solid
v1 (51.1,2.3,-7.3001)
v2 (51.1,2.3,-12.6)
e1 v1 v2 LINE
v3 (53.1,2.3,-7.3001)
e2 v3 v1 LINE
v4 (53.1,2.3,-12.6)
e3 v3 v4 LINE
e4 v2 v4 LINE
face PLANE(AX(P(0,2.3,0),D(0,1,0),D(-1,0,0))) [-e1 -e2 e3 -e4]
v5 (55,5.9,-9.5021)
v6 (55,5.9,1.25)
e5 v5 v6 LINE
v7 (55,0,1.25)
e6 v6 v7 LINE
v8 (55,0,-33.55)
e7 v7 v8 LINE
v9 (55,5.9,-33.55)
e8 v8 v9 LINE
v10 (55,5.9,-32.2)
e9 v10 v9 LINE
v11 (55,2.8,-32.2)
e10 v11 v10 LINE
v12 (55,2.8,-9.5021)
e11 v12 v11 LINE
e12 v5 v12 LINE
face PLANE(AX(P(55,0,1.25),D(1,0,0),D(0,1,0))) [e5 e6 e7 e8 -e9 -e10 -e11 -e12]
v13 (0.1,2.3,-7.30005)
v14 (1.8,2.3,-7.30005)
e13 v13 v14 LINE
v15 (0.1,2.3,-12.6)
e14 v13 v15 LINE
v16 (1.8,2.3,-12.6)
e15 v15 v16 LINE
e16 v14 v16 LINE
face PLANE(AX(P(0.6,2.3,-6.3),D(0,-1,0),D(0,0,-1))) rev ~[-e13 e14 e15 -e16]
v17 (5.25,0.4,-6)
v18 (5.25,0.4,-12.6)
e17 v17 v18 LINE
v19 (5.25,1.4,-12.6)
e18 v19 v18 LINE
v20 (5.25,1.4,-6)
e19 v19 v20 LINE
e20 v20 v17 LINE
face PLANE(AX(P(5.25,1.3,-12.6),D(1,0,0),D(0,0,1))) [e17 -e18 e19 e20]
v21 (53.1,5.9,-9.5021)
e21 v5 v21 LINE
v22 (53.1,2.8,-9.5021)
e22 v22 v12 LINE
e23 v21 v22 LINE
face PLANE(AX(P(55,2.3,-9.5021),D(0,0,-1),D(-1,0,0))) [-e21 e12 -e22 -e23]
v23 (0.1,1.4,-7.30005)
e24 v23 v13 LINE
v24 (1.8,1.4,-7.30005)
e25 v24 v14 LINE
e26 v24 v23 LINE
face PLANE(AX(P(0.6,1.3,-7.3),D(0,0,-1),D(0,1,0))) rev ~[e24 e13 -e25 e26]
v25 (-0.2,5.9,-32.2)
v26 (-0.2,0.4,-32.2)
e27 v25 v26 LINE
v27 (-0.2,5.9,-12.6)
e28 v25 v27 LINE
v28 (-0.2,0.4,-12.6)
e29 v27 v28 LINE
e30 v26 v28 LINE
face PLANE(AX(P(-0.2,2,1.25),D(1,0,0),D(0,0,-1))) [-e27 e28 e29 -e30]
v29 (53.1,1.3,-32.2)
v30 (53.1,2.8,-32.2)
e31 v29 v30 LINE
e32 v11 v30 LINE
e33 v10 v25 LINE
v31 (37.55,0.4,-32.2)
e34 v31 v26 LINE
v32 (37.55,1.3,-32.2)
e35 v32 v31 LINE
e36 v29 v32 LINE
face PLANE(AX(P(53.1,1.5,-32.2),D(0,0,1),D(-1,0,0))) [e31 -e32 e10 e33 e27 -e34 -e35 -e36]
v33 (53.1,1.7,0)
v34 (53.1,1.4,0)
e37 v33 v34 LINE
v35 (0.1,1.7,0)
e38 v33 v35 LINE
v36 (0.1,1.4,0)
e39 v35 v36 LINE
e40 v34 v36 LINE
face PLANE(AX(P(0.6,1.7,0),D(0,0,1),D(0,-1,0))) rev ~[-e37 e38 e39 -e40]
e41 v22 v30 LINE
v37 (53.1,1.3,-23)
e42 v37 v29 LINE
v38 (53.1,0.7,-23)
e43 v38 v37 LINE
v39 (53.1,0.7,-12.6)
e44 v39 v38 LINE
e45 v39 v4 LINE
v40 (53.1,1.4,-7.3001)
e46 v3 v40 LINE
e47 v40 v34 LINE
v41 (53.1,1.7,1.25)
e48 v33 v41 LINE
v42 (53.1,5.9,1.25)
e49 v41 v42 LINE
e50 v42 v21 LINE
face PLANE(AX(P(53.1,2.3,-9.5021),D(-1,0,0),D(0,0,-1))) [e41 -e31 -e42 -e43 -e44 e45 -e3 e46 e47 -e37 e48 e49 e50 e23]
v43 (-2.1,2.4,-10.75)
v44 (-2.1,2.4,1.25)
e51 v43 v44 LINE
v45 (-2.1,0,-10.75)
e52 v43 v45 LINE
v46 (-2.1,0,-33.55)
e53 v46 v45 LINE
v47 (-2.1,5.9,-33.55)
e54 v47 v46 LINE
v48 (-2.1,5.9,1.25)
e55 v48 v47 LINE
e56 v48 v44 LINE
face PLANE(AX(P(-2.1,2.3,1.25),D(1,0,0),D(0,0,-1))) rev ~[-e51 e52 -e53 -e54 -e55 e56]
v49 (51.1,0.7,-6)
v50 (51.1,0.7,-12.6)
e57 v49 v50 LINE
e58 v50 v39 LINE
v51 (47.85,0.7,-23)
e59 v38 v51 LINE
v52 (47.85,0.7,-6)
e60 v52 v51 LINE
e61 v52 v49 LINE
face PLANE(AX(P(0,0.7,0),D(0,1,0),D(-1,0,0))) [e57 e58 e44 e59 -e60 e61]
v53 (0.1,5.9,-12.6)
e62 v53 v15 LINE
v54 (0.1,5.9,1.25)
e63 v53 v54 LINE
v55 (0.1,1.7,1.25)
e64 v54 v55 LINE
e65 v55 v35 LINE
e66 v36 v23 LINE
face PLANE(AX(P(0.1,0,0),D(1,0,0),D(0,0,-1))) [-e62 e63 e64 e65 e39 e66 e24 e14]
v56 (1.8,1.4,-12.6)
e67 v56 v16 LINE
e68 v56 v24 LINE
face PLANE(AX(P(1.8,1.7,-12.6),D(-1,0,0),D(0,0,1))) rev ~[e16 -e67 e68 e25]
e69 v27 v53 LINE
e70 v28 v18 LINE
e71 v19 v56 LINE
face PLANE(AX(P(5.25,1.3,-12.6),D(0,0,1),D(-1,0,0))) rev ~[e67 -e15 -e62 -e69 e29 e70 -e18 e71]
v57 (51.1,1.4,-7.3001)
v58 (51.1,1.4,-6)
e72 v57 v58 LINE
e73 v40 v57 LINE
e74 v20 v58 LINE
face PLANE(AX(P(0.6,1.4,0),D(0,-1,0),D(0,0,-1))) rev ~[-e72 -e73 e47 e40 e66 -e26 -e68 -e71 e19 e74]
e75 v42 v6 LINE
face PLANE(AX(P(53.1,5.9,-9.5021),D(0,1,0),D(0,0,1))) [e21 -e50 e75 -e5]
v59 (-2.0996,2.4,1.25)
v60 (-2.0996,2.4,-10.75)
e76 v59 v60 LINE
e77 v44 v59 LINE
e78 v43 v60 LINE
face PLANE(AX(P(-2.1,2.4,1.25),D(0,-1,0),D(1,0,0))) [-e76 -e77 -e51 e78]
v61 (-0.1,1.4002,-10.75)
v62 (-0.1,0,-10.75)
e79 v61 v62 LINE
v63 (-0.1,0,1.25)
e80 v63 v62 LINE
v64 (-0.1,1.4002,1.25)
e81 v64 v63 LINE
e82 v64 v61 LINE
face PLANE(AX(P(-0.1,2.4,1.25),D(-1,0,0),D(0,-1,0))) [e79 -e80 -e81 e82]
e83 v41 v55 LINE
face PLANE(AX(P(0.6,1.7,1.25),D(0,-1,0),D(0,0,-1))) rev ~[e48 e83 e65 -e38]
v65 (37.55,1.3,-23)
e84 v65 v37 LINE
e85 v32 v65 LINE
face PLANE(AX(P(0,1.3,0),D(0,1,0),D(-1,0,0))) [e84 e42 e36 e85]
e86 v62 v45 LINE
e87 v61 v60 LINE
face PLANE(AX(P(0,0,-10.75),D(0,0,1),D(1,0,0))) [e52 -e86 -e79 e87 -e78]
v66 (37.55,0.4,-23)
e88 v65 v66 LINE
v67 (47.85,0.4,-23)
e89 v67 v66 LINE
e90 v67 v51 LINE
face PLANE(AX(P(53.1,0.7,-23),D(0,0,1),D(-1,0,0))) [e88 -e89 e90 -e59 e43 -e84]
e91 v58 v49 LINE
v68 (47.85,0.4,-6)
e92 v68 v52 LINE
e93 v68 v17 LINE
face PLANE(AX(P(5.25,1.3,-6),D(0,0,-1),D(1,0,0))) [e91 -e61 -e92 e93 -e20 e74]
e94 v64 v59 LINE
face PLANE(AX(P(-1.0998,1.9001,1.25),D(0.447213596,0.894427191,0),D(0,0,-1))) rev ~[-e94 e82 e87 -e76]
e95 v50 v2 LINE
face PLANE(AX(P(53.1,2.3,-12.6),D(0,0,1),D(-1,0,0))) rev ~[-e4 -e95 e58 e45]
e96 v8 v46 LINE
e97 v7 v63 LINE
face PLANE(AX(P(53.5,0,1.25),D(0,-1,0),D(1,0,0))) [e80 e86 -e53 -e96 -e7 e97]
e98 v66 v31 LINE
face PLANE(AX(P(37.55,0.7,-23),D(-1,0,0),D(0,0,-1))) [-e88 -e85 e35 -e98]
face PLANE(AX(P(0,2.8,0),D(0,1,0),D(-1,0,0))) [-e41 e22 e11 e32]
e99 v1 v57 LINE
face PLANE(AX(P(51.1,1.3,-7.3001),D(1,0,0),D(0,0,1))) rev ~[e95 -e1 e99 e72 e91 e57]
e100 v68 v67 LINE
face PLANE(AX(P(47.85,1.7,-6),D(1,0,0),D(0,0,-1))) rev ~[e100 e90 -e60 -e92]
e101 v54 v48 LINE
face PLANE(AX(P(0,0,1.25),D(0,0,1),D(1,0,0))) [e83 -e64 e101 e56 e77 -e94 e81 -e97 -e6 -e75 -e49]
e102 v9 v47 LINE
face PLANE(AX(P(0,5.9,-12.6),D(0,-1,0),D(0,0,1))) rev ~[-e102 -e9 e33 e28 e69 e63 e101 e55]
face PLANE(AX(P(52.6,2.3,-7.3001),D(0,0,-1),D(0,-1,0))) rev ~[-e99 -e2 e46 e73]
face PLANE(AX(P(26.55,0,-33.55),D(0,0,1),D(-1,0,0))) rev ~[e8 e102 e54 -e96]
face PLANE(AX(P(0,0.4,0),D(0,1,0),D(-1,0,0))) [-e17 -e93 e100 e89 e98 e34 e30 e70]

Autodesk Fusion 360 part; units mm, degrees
sketch "Sketch1" plane through (0, 0, 0) normal (0, 1, 0) x (1, 0, 0)
  line L0 (0, 0) -> (53.1, 0)
  line L1 (53.1, 0) -> (53.1, 32)
  line L2 (53.1, 32) -> (0, 32)
  line L3 (0, 32) -> (0, 0)
  line L4 (26.55, 0) -> (26.55, -1.25)
  line L5 (26.55, -1.25) -> (26.55, 33.35)
  line L6 (26.55, 33.35) -> (55, 33.35)
  line L7 (55, 33.35) -> (-1.9, 33.35)
  line L8 (-1.9, 33.35) -> (-1.9, -1.25)
  line L9 (-1.9, -1.25) -> (55, -1.25)
  line L10 (55, -1.25) -> (55, 33.35)
  dimension "d1" = 53.1
  dimension "d2" = 32
  dimension "d3" = 1.25
  dimension "d4" = 34.6
  dimension "d5" = 28.45
  dimension "d6" = 56.9
  dimension "d7" = 34.6
extrude "Extrude1" add sketch "Sketch1" along normal blind 1.5
sketch "Sketch2" plane through (0, 1.5, 0) normal (0, 1, 0) x (-1, 0, 0)
  line L0 (-55, 1.25) -> (-55, -33.35)
  line L1 (-55, -33.35) -> (1.9, -33.35)
  line L2 (1.9, -33.35) -> (1.9, 1.25)
  line L3 (1.9, 1.25) -> (-55, 1.25)
  line L4 (1.9, -33.35) -> (-55, -33.35)
  line L5 (-55, -33.35) -> (-55, -32)
  line L6 (-55, -32) -> (1.9, -32)
  line L7 (1.9, -32) -> (1.9, -33.35)
  line L8 (1.9, -32) -> (0, -32)
  line L9 (0, -32) -> (0, 1.25)
  line L10 (0, 1.25) -> (1.9, 1.25)
  line L11 (1.9, 1.25) -> (1.9, -32)
  line L12 (-55, -32) -> (-53.1, -32)
  line L13 (-53.1, -32) -> (-53.1, 1.25)
  line L14 (-53.1, 1.25) -> (-55, 1.25)
  line L15 (-55, 1.25) -> (-55, -32)
  dimension "d10" = 1.35
  dimension "d11" = 1.9
  dimension "d12" = 1.9
extrude "Extrude2" add sketch "Sketch2" along normal blind 4.4 contours L0 L3 L6 L12 L13 L14 L15 | L0 L1 L2 L4 L5 L6 L7 L8 L12 | L2 L3 L6 L8 L9 L10 L11
sketch "Sketch3" plane through (0, 1.5, 0) normal (0, 1, 0) x (-1, 0, 0)
  line L0 (0, -32) -> (0, 1.25)
  line L1 (0, 1.25) -> (-53.1, 1.25)
  line L2 (-53.1, 1.25) -> (-53.1, -32)
  line L3 (-53.1, -32) -> (0, -32)
  line L4 (0, 1.25) -> (-53.1, 1.25)
  line L5 (-53.1, 1.25) -> (-53.1, 0)
  line L6 (-53.1, 0) -> (0, 0)
  line L7 (0, 0) -> (0, 1.25)
  dimension "d15" = 1.25
extrude "Extrude3" add sketch "Sketch3" along normal blind 0.5 contours L0 L1 L2 L4 L5 L6 L7
extrude "Extrude4" add 1 faces at (17.7, 1.5, -21.3333) along direction (0, 1, 0) blind 0.2
sketch "Sketch4" plane through (0, 1.7, 0) normal (0, 1, 0) x (-1, 0, 0)
  line L0 (0, 0) -> (-53.1, 0)
  line L1 (-53.1, 0) -> (-53.1, -32)
  line L2 (-53.1, -32) -> (0, -32)
  line L3 (0, -32) -> (0, 0)
  line L4 (-26.55, 0) -> (-26.55, -6)
  line L5 (-26.55, -32) -> (-26.55, -23)
  line L6 (-53.1, -16) -> (-47.85, -16)
  line L7 (0, -16) -> (-5.25, -16)
  line L8 (-26.55, -6) -> (-5.25, -6)
  line L9 (-26.55, -23) -> (-47.85, -23)
  line L10 (-47.85, -23) -> (-5.25, -23)
  line L11 (-5.25, -23) -> (-5.25, -6)
  line L12 (-5.25, -6) -> (-47.85, -6)
  line L13 (-47.85, -6) -> (-47.85, -23)
  dimension "d20" = 6
  dimension "d21" = 9
  dimension "d22" = 5.25
  dimension "d23" = 5.25
extrude "Extrude5" cut sketch "Sketch4" against normal blind 1.3 contours L8 L9 L10 L11 L12 L13
sketch "Sketch5" plane through (0, 1.7, 0) normal (0, 1, 0) x (-1, 0, 0)
  line L0 (-5.25, -23) -> (-47.85, -23)
  line L1 (-47.85, -23) -> (-47.85, -6)
  line L2 (-47.85, -6) -> (-5.25, -6)
  line L3 (-5.25, -6) -> (-5.25, -23)
  line L4 (0, 0) -> (-53.1, 0)
  line L5 (-53.1, 0) -> (-53.1, -32)
  line L6 (-53.1, -32) -> (0, -32)
  line L7 (0, -32) -> (0, 0)
  line L8 (-53.1, 0) -> (-51.1, 0)
  line L9 (-51.1, 0) -> (-51.1, -12.6)
  line L10 (-51.1, -12.6) -> (-53.1, -12.6)
  line L11 (-53.1, -12.6) -> (-53.1, 0)
  line L12 (0, 0) -> (-2, 0)
  line L13 (-2, 0) -> (-2, -12.6)
  line L14 (-2, -12.6) -> (0, -12.6)
  line L15 (0, -12.6) -> (0, 0)
  dimension "d26" = 2
  dimension "d27" = 12.6
  dimension "d28" = 2
  dimension "d29" = 12.6
extrude "Extrude6" add sketch "Sketch5" along normal blind 0.6 contours L4 L7 L12 L13 L14 L15 | L4 L5 L8 L9 L10 L11
sketch "Sketch6" plane through (0, 5.9, 0) normal (0, 1, 0) x (-1, 0, 0)
  line L0 (-53.1, -32) -> (-53.1, 1.25)
  line L1 (-53.1, 1.25) -> (-55, 1.25)
  line L2 (-55, 1.25) -> (-55, -33.35)
  line L3 (-55, -33.35) -> (1.9, -33.35)
  line L4 (1.9, -33.35) -> (1.9, 1.25)
  line L5 (1.9, 1.25) -> (0, 1.25)
  line L6 (0, 1.25) -> (0, -32)
  line L7 (0, -32) -> (-53.1, -32)
  line L8 (-53.1, -32) -> (-55, -32)
  line L9 (-55, -32) -> (-55, -12.5021)
  line L10 (-55, -12.5021) -> (-53.1, -12.5021)
  line L11 (-53.1, -12.5021) -> (-53.1, -32)
extrude "Extrude7" cut sketch "Sketch6" against normal blind 3.6 contours L0 L2 L8 L9 L10 L11
sketch "Sketch7" plane through (0, 2.3, 0) normal (0, 1, 0) x (-1, 0, 0)
  line L0 (-53.1, -12.6) -> (-51.1, -12.6)
  line L1 (-51.1, -12.6) -> (-51.1, 0)
  line L2 (-51.1, 0) -> (-53.1, 0)
  line L3 (-53.1, 0) -> (-53.1, -12.5021)
  line L4 (-53.1, -12.5021) -> (-55, -12.5021)
  line L5 (-55, -12.5021) -> (-55, -32)
  line L6 (-55, -32) -> (-53.1, -32)
  line L7 (-53.1, -32) -> (-53.1, -12.6)
  line L8 (-51.1, 0) -> (-53.1, 0)
  line L9 (-53.1, 0) -> (-53.1, -6.2511)
  line L10 (-53.1, -6.2511) -> (-51.1, -6.2511)
  line L11 (-51.1, -6.2511) -> (-51.1, 0)
extrude "Extrude8" cut sketch "Sketch7" against normal blind 0.6 contours L1 L2 L3 L8 L9 L10 L11
sketch "Sketch8" plane through (0, 2.3, 0) normal (0, 1, 0) x (-1, 0, 0)
  line L0 (0, -12.6) -> (0, 0)
  line L1 (0, 0) -> (-2, 0)
  line L2 (-2, 0) -> (-2, -12.6)
  line L3 (-2, -12.6) -> (0, -12.6)
  line L4 (-2, 0) -> (0, 0)
  line L5 (0, 0) -> (0, -6.3)
  line L6 (0, -6.3) -> (-2, -6.3)
  line L7 (-2, -6.3) -> (-2, 0)
extrude "Extrude9" cut sketch "Sketch8" against normal blind 0.6 contours L0 L1 L2 L4 L5 L6 L7
sketch "Sketch9" plane through (0, 1.7, 0) normal (0, 1, 0) x (-1, 0, 0)
  line L0 (-5.25, -23) -> (-47.85, -23)
  line L1 (-47.85, -23) -> (-47.85, -6)
  line L2 (-47.85, -6) -> (-5.25, -6)
  line L3 (-5.25, -6) -> (-5.25, -23)
  line L4 (-51.1, -6.2511) -> (-51.1, -12.6)
  line L5 (-51.1, -12.6) -> (-53.1, -12.6)
  line L6 (-53.1, -12.6) -> (-53.1, -32)
  line L7 (-53.1, -32) -> (0, -32)
  line L8 (0, -32) -> (0, -12.6)
  line L9 (0, -12.6) -> (-2, -12.6)
  line L10 (-2, -12.6) -> (-2, -6.3)
  line L11 (-2, -6.3) -> (0, -6.3)
  line L12 (0, -6.3) -> (0, 0)
  line L13 (0, 0) -> (-53.1, 0)
  line L14 (-53.1, 0) -> (-53.1, -6.2511)
  line L15 (-53.1, -6.2511) -> (-51.1, -6.2511)
  line L16 (0, -12.6) -> (-53.1, -12.6)
  line L17 (-53.1, -12.6) -> (-53.1, -32)
  line L18 (-53.1, -32) -> (0, -32)
  line L19 (0, -32) -> (0, -12.6)
extrude "Extrude10" cut sketch "Sketch9" against normal blind 1 contours L0 L1 L3 L5 L6 L7 L8 L9 L16 L17 L18 L19
sketch "Sketch10" plane through (0, 1.7, 0) normal (0, 1, 0) x (-1, 0, 0)
  line L0 (-5.25, -12.6) -> (-2, -12.6)
  line L1 (-2, -12.6) -> (-2, -6.3)
  line L2 (-2, -6.3) -> (0, -6.3)
  line L3 (0, -6.3) -> (0, 0)
  line L4 (0, 0) -> (-53.1, 0)
  line L5 (-53.1, 0) -> (-53.1, -6.2511)
  line L6 (-53.1, -6.2511) -> (-51.1, -6.2511)
  line L7 (-51.1, -6.2511) -> (-51.1, -12.6)
  line L8 (-51.1, -12.6) -> (-47.85, -12.6)
  line L9 (-47.85, -12.6) -> (-47.85, -6)
  line L10 (-47.85, -6) -> (-5.25, -6)
  line L11 (-5.25, -6) -> (-5.25, -12.6)
  line L12 (-47.85, -6) -> (-51.1, -6)
  line L13 (-51.1, -6) -> (-51.1, -12.6)
  line L14 (-51.1, -12.6) -> (-47.85, -12.6)
  line L15 (-47.85, -12.6) -> (-47.85, -6)
extrude "Extrude11" cut sketch "Sketch10" against normal blind 1 contours L7 L8 L9 L12 L13 L14 L15
sketch "Sketch11" plane through (0, 0.7, 0) normal (0, 1, 0) x (-1, 0, 0)
  line L0 (0, -32) -> (0, -12.6)
  line L1 (0, -12.6) -> (-5.25, -12.6)
  line L2 (-5.25, -12.6) -> (-5.25, -23)
  line L3 (-5.25, -23) -> (-47.85, -23)
  line L4 (-47.85, -23) -> (-47.85, -6)
  line L5 (-47.85, -6) -> (-51.1, -6)
  line L6 (-51.1, -6) -> (-51.1, -12.6)
  line L7 (-51.1, -12.6) -> (-53.1, -12.6)
  line L8 (-53.1, -12.6) -> (-53.1, -32)
  line L9 (-53.1, -32) -> (0, -32)
  line L10 (-26.55, -32) -> (-53.1, -32)
  line L11 (-53.1, -32) -> (-53.1, -23)
  line L12 (-53.1, -23) -> (-26.55, -23)
  line L13 (-26.55, -23) -> (-26.55, -32)
extrude "Extrude12" add sketch "Sketch11" along normal blind 1 contours L3 L8 L9 L10 L11 L12 L13
extrude "Extrude13" cut 1 faces at (26.55, 1.0333, -26) along direction (1, 0, 0) blind 11
extrude "Extrude14" cut 1 faces at (54.3667, 4.7, -12.5021) along direction (0, 0, 1) blind 3
extrude "Extrude15" add 1 faces at (53.1, 4.7, -4.8344) along direction (-1, 0, 0) blind 0.5
sketch "Sketch12" plane through (0, 0, 0) normal (1, 0, 0) x (0, 0, -1)
  line L0 (6.3, 2.3) -> (12.6, 2.3)
  line L1 (12.6, 2.3) -> (12.6, 0.7)
  line L2 (12.6, 0.7) -> (32, 0.7)
  line L3 (32, 0.7) -> (32, 5.9)
  line L4 (32, 5.9) -> (-1.25, 5.9)
  line L5 (-1.25, 5.9) -> (-1.25, 2)
  line L6 (-1.25, 2) -> (0, 2)
  line L7 (0, 2) -> (0, 1.7)
  line L8 (0, 1.7) -> (6.3, 1.7)
  line L9 (6.3, 1.7) -> (6.3, 2.3)
  line L10 (-1.25, 5.9) -> (12.6, 5.9)
  line L11 (12.6, 5.9) -> (12.6, -0.6915)
  line L12 (12.6, -0.6915) -> (-1.25, -0.6915)
  line L13 (-1.25, -0.6915) -> (-1.25, 5.9)
  dimension "d50" = 13.85
extrude "Extrude16" add sketch "Sketch12" along normal blind 0.5 contours L0 L4 L5 L6 L7 L8 L9 L10 L11 L13
sketch "Sketch13" plane through (0, 0, 1.25) normal (0, 0, 1) x (1, 0, 0)
  line L0 (-1.9, 0) -> (55, 0)
  line L1 (55, 0) -> (55, 5.9)
  line L2 (55, 5.9) -> (52.6, 5.9)
  line L3 (52.6, 5.9) -> (52.6, 2)
  line L4 (52.6, 2) -> (0.5, 2)
  line L5 (0.5, 2) -> (0.5, 5.9)
  line L6 (0.5, 5.9) -> (-1.9, 5.9)
  line L7 (-1.9, 5.9) -> (-1.9, 0)
  line L8 (55, 0) -> (53, 0)
  line L9 (53, 0) -> (53, 2.3)
  line L10 (53, 2.3) -> (55, 2.3)
  line L11 (55, 2.3) -> (55, 0)
  line L12 (-1.9, 0) -> (0.1, 0)
  line L13 (0.1, 0) -> (0.1, 2.3)
  line L14 (0.1, 2.3) -> (-1.9, 2.3)
  line L15 (-1.9, 2.3) -> (-1.9, 0)
  dimension "d53" = 2
  dimension "d54" = 2.3
  dimension "d55" = 2
  dimension "d56" = 2.3
extrude "Extrude17" cut sketch "Sketch13" against normal blind 12 contours L0 L7 L12 L13 L14 L15 | L0 L1 L8 L9 L10 L11
sketch "Sketch14" plane through (0, 2.3, 0) normal (0, 1, 0) x (-1, 0, 0)
  line L0 (-53, -9.5021) -> (-53, -10.75)
  line L1 (-53, -10.75) -> (-55, -10.75)
  line L2 (-55, -10.75) -> (-55, -32)
  line L3 (-55, -32) -> (-53.1, -32)
  line L4 (-53.1, -32) -> (-53.1, -12.6)
  line L5 (-53.1, -12.6) -> (-51.1, -12.6)
  line L6 (-51.1, -12.6) -> (-51.1, -6.2511)
  line L7 (-51.1, -6.2511) -> (-52.6, -6.2511)
  line L8 (-52.6, -6.2511) -> (-52.6, -9.5021)
  line L9 (-52.6, -9.5021) -> (-53, -9.5021)
  line L10 (-51.1, -9.4255) -> (-55, -9.4255)
  line L11 (-55, -9.4255) -> (-55, -32)
  line L12 (-55, -32) -> (-51.1, -32)
  line L13 (-51.1, -32) -> (-51.1, -9.4255)
extrude "Extrude18" add sketch "Sketch14" along normal blind 0.5 contours L0 L1 L2 L3 L4 L5 L6 L8 L9 L10 L11 L12 L13 | L0 L1 L8 L9 L10 L11
extrude "Extrude19" add 1 faces at (53, 0.7667, -2.75) along direction (1, 0, 0) blind 0.5
extrude "Extrude20" add 1 faces at (0.1, 0.7667, -2.75) along direction (-1, 0, 0) blind 0.5
extrude "Extrude21" cut 1 faces at (54.3667, 2.8, -18.034) along direction (0, -1, 0) blind 0.5
extrude "Extrude22" add 1 faces at (54, 2.3, -5.9181) along direction (0, -1, 0) blind 0.4
sketch "Sketch15" plane through (0, 0, -9.5021) normal (0, 0, -1) x (-1, 0, 0)
  line L0 (-52.6, 2.3) -> (-52.6, 5.9)
  line L1 (-52.6, 5.9) -> (-55, 5.9)
  line L2 (-55, 5.9) -> (-55, 1.9)
  line L3 (-55, 1.9) -> (-53.5, 1.9)
  line L4 (-53.5, 1.9) -> (-53.5, 2.3)
  line L5 (-53.5, 2.3) -> (-52.6, 2.3)
  line L6 (-53.5, 2.3) -> (-55, 2.3)
  line L7 (-55, 2.3) -> (-55, 1.9)
  line L8 (-55, 1.9) -> (-53.5, 1.9)
  line L9 (-53.5, 1.9) -> (-53.5, 2.3)
extrude "Extrude23" add sketch "Sketch15" along normal blind 1.248 contours L2 L3 L4 L6 L7 L8 L9
extrude "Extrude24" add 1 faces at (-0.9, 2.3, -2.75) along direction (0, -1, 0) blind 0.4
extrude "Extrude25" cut 1 faces at (0.5, 4.7, -5.8833) along direction (-1, 0, 0) blind 0.5
extrude "Extrude26" cut 1 faces at (52.6, 4.7, -4.8344) along direction (1, 0, 0) blind 0.5
move_face "MoveFace1" by (-0.2, 0, 0) 4 faces at (0, 2.9667, -25.5333) (-0.4, 0.6333, -2.75) (-1.9, 2.6, -25.8167) (2, 1.9, -8.4)
chamfer "Chamfer1" distance 0.5 angle 45 1 edges at (-0.6, 1.9, -4.75)
chamfer "Chamfer2" distance 0.5 angle 45 1 edges at (-2.1, 1.9, -4.75)
chamfer "Chamfer3" distance 0.5 angle 45 1 edges at (53.5, 1.9, -4.75)
sketch "Sketch16" plane through (0, 2.3, 0) normal (0, 1, 0) x (-1, 0, 0)
  line L0 (-55, -9.5021) -> (-55, -32)
  line L1 (-55, -32) -> (-53.1, -32)
  line L2 (-53.1, -32) -> (-53.1, -12.6)
  line L3 (-53.1, -12.6) -> (-51.1, -12.6)
  line L4 (-51.1, -12.6) -> (-51.1, -6.2511)
  line L5 (-51.1, -6.2511) -> (-53.1, -6.2511)
  line L6 (-53.1, -6.2511) -> (-53.1, -9.5021)
  line L7 (-53.1, -9.5021) -> (-55, -9.5021)
  line L8 (-55, -9.5021) -> (-53.1, -9.5021)
  line L9 (-53.1, -9.5021) -> (-53.1, -32)
  line L10 (-53.1, -32) -> (-55, -32)
  line L11 (-55, -32) -> (-55, -9.5021)
extrude "Extrude27" add sketch "Sketch16" along normal blind 0.5 contours L0 L1 L2 L7 L8 L9 L10 L11
chamfer "Chamfer4" distance 0.5 angle 45 1 edges at (55, 1.9, -4.75)
extrude "Extrude28" cut 2 faces at (19.3833, 1.7, -2) (47.9167, 1.7, -26) along direction (0, -1, 0) blind 0.4
extrude "Extrude29" cut 1 faces at (17.5667, 2, 0.8333) along direction (0, -1, 0) blind 0.3
extrude "Extrude30" cut 1 faces at (14.2, 0.7, -29) along direction (0, -1, 0) blind 0.3
move_face "MoveFace2" by (0, 0, -0.2) 2 faces at (12.3833, 2.5333, -32) (16.9333, 1.9667, -33.35)
sketch "Sketch17" plane through (-0.2, 0, 0) normal (1, 0, 0) x (0, 0, -1)
  line L0 (12.6, 2.3) -> (12.6, 0.4)
  line L1 (12.6, 0.4) -> (32.2, 0.4)
  line L2 (32.2, 0.4) -> (32.2, 5.9)
  line L3 (32.2, 5.9) -> (-1.25, 5.9)
  line L4 (-1.25, 5.9) -> (-1.25, 1.7)
  line L5 (-1.25, 1.7) -> (0, 1.7)
  line L6 (0, 1.7) -> (0, 1.3)
  line L7 (0, 1.3) -> (6.3, 1.3)
  line L8 (6.3, 1.3) -> (6.3, 2.3)
  line L9 (6.3, 2.3) -> (12.6, 2.3)
  line L10 (12.6, 2.3) -> (-1.25, 2.3)
  line L11 (-1.25, 2.3) -> (-1.25, 5.9)
  line L12 (-1.25, 5.9) -> (12.6, 5.9)
  line L13 (12.6, 5.9) -> (12.6, 2.3)
extrude "Extrude31" add sketch "Sketch17" along normal blind 0.8 contours L3 L4 L9 L10 L11 L12 L13 | L4 L5 L6 L7 L8 L10
sketch "Sketch18" plane through (0, 0, 1.25) normal (0, 0, 1) x (1, 0, 0)
  line L0 (53.1, 5.9) -> (53.1, 1.7)
  line L1 (53.1, 1.7) -> (0.6, 1.7)
  line L2 (0.6, 1.7) -> (0.6, 5.9)
  line L3 (0.6, 5.9) -> (-2.1, 5.9)
  line L4 (-2.1, 5.9) -> (-2.1, 2.4)
  line L5 (-2.1, 2.4) -> (-1.6, 1.9)
  line L6 (-1.6, 1.9) -> (-1.1, 1.9)
  line L7 (-1.1, 1.9) -> (-0.6, 1.4)
  line L8 (-0.6, 1.4) -> (-0.6, 0)
  line L9 (-0.6, 0) -> (53.5, 0)
  line L10 (53.5, 0) -> (53.5, 1.4)
  line L11 (53.5, 1.4) -> (54, 1.9)
  line L12 (54, 1.9) -> (54.5, 1.9)
  line L13 (54.5, 1.9) -> (55, 2.4)
  line L14 (55, 2.4) -> (55, 5.9)
  line L15 (55, 5.9) -> (53.1, 5.9)
  line L16 (-2.1, 2.4) -> (-0.1, 2.4)
  line L17 (-0.1, 2.4) -> (-0.1, 0)
  line L18 (-0.1, 0) -> (-2.1, 0)
  line L19 (-2.1, 0) -> (-2.1, 2.4)
  dimension "d91" = 2
extrude "Extrude32" cut sketch "Sketch18" against normal blind 12 contours L5 L6 L7 L8 L9 L16 L17 L18
sketch "Sketch19" plane through (0, 0, 1.25) normal (0, 0, 1) x (1, 0, 0)
  line L0 (-0.1, 2.4) -> (-0.1, 0)
  line L1 (-0.1, 0) -> (53.5, 0)
  line L2 (53.5, 0) -> (53.5, 1.4)
  line L3 (53.5, 1.4) -> (54, 1.9)
  line L4 (54, 1.9) -> (54.5, 1.9)
  line L5 (54.5, 1.9) -> (55, 2.4)
  line L6 (55, 2.4) -> (55, 5.9)
  line L7 (55, 5.9) -> (53.1, 5.9)
  line L8 (53.1, 5.9) -> (53.1, 1.7)
  line L9 (53.1, 1.7) -> (0.6, 1.7)
  line L10 (0.6, 1.7) -> (0.6, 5.9)
  line L11 (0.6, 5.9) -> (-2.1, 5.9)
  line L12 (-2.1, 5.9) -> (-2.1, 2.4)
  line L13 (-2.1, 2.4) -> (-0.1, 2.4)
  line L14 (53.5, 0) -> (55, 0)
  line L15 (55, 0) -> (55, 2.4)
  line L16 (55, 2.4) -> (53.5, 2.4)
  line L17 (53.5, 2.4) -> (53.5, 0)
extrude "Extrude33" add sketch "Sketch19" against normal blind 12 contours L2 L3 L4 L5 L14 L15 L17
chamfer "Chamfer5" distance 1 distance2 2 1 edges at (-0.1, 2.4, -4.75) measured on face at (-0.1, 1.6, -2.75)
extrude "Extrude34" cut 1 faces at (0.6, 4.7, -5.8833) along direction (-1, 0, 0) blind 0.5
extrude "Extrude35" cut 1 faces at (51.7667, 1.9667, -6.2511) along direction (0, 0, -1) blind 0.049
extrude "Extrude36" cut 1 faces at (1.2333, 1.6333, -6.3) along direction (0, 0, -1) blind 0.0001
extrude "Extrude37" cut 2 faces at (51.7667, 1.9667, -6.3001) (1.2333, 1.6333, -6.3001) along direction (0, 0, -1) blind 1
extrude "Extrude38" add 1 faces at (19.4833, 1.3, -2) along direction (0, 1, 0) blind 0.1
equation "d5 = ( 56.9 / 2 ) * 1 mm"
equation "d85 = -0.70 mm + 0.4 mm"
equation "d102 = -6.104E-05 mm"
